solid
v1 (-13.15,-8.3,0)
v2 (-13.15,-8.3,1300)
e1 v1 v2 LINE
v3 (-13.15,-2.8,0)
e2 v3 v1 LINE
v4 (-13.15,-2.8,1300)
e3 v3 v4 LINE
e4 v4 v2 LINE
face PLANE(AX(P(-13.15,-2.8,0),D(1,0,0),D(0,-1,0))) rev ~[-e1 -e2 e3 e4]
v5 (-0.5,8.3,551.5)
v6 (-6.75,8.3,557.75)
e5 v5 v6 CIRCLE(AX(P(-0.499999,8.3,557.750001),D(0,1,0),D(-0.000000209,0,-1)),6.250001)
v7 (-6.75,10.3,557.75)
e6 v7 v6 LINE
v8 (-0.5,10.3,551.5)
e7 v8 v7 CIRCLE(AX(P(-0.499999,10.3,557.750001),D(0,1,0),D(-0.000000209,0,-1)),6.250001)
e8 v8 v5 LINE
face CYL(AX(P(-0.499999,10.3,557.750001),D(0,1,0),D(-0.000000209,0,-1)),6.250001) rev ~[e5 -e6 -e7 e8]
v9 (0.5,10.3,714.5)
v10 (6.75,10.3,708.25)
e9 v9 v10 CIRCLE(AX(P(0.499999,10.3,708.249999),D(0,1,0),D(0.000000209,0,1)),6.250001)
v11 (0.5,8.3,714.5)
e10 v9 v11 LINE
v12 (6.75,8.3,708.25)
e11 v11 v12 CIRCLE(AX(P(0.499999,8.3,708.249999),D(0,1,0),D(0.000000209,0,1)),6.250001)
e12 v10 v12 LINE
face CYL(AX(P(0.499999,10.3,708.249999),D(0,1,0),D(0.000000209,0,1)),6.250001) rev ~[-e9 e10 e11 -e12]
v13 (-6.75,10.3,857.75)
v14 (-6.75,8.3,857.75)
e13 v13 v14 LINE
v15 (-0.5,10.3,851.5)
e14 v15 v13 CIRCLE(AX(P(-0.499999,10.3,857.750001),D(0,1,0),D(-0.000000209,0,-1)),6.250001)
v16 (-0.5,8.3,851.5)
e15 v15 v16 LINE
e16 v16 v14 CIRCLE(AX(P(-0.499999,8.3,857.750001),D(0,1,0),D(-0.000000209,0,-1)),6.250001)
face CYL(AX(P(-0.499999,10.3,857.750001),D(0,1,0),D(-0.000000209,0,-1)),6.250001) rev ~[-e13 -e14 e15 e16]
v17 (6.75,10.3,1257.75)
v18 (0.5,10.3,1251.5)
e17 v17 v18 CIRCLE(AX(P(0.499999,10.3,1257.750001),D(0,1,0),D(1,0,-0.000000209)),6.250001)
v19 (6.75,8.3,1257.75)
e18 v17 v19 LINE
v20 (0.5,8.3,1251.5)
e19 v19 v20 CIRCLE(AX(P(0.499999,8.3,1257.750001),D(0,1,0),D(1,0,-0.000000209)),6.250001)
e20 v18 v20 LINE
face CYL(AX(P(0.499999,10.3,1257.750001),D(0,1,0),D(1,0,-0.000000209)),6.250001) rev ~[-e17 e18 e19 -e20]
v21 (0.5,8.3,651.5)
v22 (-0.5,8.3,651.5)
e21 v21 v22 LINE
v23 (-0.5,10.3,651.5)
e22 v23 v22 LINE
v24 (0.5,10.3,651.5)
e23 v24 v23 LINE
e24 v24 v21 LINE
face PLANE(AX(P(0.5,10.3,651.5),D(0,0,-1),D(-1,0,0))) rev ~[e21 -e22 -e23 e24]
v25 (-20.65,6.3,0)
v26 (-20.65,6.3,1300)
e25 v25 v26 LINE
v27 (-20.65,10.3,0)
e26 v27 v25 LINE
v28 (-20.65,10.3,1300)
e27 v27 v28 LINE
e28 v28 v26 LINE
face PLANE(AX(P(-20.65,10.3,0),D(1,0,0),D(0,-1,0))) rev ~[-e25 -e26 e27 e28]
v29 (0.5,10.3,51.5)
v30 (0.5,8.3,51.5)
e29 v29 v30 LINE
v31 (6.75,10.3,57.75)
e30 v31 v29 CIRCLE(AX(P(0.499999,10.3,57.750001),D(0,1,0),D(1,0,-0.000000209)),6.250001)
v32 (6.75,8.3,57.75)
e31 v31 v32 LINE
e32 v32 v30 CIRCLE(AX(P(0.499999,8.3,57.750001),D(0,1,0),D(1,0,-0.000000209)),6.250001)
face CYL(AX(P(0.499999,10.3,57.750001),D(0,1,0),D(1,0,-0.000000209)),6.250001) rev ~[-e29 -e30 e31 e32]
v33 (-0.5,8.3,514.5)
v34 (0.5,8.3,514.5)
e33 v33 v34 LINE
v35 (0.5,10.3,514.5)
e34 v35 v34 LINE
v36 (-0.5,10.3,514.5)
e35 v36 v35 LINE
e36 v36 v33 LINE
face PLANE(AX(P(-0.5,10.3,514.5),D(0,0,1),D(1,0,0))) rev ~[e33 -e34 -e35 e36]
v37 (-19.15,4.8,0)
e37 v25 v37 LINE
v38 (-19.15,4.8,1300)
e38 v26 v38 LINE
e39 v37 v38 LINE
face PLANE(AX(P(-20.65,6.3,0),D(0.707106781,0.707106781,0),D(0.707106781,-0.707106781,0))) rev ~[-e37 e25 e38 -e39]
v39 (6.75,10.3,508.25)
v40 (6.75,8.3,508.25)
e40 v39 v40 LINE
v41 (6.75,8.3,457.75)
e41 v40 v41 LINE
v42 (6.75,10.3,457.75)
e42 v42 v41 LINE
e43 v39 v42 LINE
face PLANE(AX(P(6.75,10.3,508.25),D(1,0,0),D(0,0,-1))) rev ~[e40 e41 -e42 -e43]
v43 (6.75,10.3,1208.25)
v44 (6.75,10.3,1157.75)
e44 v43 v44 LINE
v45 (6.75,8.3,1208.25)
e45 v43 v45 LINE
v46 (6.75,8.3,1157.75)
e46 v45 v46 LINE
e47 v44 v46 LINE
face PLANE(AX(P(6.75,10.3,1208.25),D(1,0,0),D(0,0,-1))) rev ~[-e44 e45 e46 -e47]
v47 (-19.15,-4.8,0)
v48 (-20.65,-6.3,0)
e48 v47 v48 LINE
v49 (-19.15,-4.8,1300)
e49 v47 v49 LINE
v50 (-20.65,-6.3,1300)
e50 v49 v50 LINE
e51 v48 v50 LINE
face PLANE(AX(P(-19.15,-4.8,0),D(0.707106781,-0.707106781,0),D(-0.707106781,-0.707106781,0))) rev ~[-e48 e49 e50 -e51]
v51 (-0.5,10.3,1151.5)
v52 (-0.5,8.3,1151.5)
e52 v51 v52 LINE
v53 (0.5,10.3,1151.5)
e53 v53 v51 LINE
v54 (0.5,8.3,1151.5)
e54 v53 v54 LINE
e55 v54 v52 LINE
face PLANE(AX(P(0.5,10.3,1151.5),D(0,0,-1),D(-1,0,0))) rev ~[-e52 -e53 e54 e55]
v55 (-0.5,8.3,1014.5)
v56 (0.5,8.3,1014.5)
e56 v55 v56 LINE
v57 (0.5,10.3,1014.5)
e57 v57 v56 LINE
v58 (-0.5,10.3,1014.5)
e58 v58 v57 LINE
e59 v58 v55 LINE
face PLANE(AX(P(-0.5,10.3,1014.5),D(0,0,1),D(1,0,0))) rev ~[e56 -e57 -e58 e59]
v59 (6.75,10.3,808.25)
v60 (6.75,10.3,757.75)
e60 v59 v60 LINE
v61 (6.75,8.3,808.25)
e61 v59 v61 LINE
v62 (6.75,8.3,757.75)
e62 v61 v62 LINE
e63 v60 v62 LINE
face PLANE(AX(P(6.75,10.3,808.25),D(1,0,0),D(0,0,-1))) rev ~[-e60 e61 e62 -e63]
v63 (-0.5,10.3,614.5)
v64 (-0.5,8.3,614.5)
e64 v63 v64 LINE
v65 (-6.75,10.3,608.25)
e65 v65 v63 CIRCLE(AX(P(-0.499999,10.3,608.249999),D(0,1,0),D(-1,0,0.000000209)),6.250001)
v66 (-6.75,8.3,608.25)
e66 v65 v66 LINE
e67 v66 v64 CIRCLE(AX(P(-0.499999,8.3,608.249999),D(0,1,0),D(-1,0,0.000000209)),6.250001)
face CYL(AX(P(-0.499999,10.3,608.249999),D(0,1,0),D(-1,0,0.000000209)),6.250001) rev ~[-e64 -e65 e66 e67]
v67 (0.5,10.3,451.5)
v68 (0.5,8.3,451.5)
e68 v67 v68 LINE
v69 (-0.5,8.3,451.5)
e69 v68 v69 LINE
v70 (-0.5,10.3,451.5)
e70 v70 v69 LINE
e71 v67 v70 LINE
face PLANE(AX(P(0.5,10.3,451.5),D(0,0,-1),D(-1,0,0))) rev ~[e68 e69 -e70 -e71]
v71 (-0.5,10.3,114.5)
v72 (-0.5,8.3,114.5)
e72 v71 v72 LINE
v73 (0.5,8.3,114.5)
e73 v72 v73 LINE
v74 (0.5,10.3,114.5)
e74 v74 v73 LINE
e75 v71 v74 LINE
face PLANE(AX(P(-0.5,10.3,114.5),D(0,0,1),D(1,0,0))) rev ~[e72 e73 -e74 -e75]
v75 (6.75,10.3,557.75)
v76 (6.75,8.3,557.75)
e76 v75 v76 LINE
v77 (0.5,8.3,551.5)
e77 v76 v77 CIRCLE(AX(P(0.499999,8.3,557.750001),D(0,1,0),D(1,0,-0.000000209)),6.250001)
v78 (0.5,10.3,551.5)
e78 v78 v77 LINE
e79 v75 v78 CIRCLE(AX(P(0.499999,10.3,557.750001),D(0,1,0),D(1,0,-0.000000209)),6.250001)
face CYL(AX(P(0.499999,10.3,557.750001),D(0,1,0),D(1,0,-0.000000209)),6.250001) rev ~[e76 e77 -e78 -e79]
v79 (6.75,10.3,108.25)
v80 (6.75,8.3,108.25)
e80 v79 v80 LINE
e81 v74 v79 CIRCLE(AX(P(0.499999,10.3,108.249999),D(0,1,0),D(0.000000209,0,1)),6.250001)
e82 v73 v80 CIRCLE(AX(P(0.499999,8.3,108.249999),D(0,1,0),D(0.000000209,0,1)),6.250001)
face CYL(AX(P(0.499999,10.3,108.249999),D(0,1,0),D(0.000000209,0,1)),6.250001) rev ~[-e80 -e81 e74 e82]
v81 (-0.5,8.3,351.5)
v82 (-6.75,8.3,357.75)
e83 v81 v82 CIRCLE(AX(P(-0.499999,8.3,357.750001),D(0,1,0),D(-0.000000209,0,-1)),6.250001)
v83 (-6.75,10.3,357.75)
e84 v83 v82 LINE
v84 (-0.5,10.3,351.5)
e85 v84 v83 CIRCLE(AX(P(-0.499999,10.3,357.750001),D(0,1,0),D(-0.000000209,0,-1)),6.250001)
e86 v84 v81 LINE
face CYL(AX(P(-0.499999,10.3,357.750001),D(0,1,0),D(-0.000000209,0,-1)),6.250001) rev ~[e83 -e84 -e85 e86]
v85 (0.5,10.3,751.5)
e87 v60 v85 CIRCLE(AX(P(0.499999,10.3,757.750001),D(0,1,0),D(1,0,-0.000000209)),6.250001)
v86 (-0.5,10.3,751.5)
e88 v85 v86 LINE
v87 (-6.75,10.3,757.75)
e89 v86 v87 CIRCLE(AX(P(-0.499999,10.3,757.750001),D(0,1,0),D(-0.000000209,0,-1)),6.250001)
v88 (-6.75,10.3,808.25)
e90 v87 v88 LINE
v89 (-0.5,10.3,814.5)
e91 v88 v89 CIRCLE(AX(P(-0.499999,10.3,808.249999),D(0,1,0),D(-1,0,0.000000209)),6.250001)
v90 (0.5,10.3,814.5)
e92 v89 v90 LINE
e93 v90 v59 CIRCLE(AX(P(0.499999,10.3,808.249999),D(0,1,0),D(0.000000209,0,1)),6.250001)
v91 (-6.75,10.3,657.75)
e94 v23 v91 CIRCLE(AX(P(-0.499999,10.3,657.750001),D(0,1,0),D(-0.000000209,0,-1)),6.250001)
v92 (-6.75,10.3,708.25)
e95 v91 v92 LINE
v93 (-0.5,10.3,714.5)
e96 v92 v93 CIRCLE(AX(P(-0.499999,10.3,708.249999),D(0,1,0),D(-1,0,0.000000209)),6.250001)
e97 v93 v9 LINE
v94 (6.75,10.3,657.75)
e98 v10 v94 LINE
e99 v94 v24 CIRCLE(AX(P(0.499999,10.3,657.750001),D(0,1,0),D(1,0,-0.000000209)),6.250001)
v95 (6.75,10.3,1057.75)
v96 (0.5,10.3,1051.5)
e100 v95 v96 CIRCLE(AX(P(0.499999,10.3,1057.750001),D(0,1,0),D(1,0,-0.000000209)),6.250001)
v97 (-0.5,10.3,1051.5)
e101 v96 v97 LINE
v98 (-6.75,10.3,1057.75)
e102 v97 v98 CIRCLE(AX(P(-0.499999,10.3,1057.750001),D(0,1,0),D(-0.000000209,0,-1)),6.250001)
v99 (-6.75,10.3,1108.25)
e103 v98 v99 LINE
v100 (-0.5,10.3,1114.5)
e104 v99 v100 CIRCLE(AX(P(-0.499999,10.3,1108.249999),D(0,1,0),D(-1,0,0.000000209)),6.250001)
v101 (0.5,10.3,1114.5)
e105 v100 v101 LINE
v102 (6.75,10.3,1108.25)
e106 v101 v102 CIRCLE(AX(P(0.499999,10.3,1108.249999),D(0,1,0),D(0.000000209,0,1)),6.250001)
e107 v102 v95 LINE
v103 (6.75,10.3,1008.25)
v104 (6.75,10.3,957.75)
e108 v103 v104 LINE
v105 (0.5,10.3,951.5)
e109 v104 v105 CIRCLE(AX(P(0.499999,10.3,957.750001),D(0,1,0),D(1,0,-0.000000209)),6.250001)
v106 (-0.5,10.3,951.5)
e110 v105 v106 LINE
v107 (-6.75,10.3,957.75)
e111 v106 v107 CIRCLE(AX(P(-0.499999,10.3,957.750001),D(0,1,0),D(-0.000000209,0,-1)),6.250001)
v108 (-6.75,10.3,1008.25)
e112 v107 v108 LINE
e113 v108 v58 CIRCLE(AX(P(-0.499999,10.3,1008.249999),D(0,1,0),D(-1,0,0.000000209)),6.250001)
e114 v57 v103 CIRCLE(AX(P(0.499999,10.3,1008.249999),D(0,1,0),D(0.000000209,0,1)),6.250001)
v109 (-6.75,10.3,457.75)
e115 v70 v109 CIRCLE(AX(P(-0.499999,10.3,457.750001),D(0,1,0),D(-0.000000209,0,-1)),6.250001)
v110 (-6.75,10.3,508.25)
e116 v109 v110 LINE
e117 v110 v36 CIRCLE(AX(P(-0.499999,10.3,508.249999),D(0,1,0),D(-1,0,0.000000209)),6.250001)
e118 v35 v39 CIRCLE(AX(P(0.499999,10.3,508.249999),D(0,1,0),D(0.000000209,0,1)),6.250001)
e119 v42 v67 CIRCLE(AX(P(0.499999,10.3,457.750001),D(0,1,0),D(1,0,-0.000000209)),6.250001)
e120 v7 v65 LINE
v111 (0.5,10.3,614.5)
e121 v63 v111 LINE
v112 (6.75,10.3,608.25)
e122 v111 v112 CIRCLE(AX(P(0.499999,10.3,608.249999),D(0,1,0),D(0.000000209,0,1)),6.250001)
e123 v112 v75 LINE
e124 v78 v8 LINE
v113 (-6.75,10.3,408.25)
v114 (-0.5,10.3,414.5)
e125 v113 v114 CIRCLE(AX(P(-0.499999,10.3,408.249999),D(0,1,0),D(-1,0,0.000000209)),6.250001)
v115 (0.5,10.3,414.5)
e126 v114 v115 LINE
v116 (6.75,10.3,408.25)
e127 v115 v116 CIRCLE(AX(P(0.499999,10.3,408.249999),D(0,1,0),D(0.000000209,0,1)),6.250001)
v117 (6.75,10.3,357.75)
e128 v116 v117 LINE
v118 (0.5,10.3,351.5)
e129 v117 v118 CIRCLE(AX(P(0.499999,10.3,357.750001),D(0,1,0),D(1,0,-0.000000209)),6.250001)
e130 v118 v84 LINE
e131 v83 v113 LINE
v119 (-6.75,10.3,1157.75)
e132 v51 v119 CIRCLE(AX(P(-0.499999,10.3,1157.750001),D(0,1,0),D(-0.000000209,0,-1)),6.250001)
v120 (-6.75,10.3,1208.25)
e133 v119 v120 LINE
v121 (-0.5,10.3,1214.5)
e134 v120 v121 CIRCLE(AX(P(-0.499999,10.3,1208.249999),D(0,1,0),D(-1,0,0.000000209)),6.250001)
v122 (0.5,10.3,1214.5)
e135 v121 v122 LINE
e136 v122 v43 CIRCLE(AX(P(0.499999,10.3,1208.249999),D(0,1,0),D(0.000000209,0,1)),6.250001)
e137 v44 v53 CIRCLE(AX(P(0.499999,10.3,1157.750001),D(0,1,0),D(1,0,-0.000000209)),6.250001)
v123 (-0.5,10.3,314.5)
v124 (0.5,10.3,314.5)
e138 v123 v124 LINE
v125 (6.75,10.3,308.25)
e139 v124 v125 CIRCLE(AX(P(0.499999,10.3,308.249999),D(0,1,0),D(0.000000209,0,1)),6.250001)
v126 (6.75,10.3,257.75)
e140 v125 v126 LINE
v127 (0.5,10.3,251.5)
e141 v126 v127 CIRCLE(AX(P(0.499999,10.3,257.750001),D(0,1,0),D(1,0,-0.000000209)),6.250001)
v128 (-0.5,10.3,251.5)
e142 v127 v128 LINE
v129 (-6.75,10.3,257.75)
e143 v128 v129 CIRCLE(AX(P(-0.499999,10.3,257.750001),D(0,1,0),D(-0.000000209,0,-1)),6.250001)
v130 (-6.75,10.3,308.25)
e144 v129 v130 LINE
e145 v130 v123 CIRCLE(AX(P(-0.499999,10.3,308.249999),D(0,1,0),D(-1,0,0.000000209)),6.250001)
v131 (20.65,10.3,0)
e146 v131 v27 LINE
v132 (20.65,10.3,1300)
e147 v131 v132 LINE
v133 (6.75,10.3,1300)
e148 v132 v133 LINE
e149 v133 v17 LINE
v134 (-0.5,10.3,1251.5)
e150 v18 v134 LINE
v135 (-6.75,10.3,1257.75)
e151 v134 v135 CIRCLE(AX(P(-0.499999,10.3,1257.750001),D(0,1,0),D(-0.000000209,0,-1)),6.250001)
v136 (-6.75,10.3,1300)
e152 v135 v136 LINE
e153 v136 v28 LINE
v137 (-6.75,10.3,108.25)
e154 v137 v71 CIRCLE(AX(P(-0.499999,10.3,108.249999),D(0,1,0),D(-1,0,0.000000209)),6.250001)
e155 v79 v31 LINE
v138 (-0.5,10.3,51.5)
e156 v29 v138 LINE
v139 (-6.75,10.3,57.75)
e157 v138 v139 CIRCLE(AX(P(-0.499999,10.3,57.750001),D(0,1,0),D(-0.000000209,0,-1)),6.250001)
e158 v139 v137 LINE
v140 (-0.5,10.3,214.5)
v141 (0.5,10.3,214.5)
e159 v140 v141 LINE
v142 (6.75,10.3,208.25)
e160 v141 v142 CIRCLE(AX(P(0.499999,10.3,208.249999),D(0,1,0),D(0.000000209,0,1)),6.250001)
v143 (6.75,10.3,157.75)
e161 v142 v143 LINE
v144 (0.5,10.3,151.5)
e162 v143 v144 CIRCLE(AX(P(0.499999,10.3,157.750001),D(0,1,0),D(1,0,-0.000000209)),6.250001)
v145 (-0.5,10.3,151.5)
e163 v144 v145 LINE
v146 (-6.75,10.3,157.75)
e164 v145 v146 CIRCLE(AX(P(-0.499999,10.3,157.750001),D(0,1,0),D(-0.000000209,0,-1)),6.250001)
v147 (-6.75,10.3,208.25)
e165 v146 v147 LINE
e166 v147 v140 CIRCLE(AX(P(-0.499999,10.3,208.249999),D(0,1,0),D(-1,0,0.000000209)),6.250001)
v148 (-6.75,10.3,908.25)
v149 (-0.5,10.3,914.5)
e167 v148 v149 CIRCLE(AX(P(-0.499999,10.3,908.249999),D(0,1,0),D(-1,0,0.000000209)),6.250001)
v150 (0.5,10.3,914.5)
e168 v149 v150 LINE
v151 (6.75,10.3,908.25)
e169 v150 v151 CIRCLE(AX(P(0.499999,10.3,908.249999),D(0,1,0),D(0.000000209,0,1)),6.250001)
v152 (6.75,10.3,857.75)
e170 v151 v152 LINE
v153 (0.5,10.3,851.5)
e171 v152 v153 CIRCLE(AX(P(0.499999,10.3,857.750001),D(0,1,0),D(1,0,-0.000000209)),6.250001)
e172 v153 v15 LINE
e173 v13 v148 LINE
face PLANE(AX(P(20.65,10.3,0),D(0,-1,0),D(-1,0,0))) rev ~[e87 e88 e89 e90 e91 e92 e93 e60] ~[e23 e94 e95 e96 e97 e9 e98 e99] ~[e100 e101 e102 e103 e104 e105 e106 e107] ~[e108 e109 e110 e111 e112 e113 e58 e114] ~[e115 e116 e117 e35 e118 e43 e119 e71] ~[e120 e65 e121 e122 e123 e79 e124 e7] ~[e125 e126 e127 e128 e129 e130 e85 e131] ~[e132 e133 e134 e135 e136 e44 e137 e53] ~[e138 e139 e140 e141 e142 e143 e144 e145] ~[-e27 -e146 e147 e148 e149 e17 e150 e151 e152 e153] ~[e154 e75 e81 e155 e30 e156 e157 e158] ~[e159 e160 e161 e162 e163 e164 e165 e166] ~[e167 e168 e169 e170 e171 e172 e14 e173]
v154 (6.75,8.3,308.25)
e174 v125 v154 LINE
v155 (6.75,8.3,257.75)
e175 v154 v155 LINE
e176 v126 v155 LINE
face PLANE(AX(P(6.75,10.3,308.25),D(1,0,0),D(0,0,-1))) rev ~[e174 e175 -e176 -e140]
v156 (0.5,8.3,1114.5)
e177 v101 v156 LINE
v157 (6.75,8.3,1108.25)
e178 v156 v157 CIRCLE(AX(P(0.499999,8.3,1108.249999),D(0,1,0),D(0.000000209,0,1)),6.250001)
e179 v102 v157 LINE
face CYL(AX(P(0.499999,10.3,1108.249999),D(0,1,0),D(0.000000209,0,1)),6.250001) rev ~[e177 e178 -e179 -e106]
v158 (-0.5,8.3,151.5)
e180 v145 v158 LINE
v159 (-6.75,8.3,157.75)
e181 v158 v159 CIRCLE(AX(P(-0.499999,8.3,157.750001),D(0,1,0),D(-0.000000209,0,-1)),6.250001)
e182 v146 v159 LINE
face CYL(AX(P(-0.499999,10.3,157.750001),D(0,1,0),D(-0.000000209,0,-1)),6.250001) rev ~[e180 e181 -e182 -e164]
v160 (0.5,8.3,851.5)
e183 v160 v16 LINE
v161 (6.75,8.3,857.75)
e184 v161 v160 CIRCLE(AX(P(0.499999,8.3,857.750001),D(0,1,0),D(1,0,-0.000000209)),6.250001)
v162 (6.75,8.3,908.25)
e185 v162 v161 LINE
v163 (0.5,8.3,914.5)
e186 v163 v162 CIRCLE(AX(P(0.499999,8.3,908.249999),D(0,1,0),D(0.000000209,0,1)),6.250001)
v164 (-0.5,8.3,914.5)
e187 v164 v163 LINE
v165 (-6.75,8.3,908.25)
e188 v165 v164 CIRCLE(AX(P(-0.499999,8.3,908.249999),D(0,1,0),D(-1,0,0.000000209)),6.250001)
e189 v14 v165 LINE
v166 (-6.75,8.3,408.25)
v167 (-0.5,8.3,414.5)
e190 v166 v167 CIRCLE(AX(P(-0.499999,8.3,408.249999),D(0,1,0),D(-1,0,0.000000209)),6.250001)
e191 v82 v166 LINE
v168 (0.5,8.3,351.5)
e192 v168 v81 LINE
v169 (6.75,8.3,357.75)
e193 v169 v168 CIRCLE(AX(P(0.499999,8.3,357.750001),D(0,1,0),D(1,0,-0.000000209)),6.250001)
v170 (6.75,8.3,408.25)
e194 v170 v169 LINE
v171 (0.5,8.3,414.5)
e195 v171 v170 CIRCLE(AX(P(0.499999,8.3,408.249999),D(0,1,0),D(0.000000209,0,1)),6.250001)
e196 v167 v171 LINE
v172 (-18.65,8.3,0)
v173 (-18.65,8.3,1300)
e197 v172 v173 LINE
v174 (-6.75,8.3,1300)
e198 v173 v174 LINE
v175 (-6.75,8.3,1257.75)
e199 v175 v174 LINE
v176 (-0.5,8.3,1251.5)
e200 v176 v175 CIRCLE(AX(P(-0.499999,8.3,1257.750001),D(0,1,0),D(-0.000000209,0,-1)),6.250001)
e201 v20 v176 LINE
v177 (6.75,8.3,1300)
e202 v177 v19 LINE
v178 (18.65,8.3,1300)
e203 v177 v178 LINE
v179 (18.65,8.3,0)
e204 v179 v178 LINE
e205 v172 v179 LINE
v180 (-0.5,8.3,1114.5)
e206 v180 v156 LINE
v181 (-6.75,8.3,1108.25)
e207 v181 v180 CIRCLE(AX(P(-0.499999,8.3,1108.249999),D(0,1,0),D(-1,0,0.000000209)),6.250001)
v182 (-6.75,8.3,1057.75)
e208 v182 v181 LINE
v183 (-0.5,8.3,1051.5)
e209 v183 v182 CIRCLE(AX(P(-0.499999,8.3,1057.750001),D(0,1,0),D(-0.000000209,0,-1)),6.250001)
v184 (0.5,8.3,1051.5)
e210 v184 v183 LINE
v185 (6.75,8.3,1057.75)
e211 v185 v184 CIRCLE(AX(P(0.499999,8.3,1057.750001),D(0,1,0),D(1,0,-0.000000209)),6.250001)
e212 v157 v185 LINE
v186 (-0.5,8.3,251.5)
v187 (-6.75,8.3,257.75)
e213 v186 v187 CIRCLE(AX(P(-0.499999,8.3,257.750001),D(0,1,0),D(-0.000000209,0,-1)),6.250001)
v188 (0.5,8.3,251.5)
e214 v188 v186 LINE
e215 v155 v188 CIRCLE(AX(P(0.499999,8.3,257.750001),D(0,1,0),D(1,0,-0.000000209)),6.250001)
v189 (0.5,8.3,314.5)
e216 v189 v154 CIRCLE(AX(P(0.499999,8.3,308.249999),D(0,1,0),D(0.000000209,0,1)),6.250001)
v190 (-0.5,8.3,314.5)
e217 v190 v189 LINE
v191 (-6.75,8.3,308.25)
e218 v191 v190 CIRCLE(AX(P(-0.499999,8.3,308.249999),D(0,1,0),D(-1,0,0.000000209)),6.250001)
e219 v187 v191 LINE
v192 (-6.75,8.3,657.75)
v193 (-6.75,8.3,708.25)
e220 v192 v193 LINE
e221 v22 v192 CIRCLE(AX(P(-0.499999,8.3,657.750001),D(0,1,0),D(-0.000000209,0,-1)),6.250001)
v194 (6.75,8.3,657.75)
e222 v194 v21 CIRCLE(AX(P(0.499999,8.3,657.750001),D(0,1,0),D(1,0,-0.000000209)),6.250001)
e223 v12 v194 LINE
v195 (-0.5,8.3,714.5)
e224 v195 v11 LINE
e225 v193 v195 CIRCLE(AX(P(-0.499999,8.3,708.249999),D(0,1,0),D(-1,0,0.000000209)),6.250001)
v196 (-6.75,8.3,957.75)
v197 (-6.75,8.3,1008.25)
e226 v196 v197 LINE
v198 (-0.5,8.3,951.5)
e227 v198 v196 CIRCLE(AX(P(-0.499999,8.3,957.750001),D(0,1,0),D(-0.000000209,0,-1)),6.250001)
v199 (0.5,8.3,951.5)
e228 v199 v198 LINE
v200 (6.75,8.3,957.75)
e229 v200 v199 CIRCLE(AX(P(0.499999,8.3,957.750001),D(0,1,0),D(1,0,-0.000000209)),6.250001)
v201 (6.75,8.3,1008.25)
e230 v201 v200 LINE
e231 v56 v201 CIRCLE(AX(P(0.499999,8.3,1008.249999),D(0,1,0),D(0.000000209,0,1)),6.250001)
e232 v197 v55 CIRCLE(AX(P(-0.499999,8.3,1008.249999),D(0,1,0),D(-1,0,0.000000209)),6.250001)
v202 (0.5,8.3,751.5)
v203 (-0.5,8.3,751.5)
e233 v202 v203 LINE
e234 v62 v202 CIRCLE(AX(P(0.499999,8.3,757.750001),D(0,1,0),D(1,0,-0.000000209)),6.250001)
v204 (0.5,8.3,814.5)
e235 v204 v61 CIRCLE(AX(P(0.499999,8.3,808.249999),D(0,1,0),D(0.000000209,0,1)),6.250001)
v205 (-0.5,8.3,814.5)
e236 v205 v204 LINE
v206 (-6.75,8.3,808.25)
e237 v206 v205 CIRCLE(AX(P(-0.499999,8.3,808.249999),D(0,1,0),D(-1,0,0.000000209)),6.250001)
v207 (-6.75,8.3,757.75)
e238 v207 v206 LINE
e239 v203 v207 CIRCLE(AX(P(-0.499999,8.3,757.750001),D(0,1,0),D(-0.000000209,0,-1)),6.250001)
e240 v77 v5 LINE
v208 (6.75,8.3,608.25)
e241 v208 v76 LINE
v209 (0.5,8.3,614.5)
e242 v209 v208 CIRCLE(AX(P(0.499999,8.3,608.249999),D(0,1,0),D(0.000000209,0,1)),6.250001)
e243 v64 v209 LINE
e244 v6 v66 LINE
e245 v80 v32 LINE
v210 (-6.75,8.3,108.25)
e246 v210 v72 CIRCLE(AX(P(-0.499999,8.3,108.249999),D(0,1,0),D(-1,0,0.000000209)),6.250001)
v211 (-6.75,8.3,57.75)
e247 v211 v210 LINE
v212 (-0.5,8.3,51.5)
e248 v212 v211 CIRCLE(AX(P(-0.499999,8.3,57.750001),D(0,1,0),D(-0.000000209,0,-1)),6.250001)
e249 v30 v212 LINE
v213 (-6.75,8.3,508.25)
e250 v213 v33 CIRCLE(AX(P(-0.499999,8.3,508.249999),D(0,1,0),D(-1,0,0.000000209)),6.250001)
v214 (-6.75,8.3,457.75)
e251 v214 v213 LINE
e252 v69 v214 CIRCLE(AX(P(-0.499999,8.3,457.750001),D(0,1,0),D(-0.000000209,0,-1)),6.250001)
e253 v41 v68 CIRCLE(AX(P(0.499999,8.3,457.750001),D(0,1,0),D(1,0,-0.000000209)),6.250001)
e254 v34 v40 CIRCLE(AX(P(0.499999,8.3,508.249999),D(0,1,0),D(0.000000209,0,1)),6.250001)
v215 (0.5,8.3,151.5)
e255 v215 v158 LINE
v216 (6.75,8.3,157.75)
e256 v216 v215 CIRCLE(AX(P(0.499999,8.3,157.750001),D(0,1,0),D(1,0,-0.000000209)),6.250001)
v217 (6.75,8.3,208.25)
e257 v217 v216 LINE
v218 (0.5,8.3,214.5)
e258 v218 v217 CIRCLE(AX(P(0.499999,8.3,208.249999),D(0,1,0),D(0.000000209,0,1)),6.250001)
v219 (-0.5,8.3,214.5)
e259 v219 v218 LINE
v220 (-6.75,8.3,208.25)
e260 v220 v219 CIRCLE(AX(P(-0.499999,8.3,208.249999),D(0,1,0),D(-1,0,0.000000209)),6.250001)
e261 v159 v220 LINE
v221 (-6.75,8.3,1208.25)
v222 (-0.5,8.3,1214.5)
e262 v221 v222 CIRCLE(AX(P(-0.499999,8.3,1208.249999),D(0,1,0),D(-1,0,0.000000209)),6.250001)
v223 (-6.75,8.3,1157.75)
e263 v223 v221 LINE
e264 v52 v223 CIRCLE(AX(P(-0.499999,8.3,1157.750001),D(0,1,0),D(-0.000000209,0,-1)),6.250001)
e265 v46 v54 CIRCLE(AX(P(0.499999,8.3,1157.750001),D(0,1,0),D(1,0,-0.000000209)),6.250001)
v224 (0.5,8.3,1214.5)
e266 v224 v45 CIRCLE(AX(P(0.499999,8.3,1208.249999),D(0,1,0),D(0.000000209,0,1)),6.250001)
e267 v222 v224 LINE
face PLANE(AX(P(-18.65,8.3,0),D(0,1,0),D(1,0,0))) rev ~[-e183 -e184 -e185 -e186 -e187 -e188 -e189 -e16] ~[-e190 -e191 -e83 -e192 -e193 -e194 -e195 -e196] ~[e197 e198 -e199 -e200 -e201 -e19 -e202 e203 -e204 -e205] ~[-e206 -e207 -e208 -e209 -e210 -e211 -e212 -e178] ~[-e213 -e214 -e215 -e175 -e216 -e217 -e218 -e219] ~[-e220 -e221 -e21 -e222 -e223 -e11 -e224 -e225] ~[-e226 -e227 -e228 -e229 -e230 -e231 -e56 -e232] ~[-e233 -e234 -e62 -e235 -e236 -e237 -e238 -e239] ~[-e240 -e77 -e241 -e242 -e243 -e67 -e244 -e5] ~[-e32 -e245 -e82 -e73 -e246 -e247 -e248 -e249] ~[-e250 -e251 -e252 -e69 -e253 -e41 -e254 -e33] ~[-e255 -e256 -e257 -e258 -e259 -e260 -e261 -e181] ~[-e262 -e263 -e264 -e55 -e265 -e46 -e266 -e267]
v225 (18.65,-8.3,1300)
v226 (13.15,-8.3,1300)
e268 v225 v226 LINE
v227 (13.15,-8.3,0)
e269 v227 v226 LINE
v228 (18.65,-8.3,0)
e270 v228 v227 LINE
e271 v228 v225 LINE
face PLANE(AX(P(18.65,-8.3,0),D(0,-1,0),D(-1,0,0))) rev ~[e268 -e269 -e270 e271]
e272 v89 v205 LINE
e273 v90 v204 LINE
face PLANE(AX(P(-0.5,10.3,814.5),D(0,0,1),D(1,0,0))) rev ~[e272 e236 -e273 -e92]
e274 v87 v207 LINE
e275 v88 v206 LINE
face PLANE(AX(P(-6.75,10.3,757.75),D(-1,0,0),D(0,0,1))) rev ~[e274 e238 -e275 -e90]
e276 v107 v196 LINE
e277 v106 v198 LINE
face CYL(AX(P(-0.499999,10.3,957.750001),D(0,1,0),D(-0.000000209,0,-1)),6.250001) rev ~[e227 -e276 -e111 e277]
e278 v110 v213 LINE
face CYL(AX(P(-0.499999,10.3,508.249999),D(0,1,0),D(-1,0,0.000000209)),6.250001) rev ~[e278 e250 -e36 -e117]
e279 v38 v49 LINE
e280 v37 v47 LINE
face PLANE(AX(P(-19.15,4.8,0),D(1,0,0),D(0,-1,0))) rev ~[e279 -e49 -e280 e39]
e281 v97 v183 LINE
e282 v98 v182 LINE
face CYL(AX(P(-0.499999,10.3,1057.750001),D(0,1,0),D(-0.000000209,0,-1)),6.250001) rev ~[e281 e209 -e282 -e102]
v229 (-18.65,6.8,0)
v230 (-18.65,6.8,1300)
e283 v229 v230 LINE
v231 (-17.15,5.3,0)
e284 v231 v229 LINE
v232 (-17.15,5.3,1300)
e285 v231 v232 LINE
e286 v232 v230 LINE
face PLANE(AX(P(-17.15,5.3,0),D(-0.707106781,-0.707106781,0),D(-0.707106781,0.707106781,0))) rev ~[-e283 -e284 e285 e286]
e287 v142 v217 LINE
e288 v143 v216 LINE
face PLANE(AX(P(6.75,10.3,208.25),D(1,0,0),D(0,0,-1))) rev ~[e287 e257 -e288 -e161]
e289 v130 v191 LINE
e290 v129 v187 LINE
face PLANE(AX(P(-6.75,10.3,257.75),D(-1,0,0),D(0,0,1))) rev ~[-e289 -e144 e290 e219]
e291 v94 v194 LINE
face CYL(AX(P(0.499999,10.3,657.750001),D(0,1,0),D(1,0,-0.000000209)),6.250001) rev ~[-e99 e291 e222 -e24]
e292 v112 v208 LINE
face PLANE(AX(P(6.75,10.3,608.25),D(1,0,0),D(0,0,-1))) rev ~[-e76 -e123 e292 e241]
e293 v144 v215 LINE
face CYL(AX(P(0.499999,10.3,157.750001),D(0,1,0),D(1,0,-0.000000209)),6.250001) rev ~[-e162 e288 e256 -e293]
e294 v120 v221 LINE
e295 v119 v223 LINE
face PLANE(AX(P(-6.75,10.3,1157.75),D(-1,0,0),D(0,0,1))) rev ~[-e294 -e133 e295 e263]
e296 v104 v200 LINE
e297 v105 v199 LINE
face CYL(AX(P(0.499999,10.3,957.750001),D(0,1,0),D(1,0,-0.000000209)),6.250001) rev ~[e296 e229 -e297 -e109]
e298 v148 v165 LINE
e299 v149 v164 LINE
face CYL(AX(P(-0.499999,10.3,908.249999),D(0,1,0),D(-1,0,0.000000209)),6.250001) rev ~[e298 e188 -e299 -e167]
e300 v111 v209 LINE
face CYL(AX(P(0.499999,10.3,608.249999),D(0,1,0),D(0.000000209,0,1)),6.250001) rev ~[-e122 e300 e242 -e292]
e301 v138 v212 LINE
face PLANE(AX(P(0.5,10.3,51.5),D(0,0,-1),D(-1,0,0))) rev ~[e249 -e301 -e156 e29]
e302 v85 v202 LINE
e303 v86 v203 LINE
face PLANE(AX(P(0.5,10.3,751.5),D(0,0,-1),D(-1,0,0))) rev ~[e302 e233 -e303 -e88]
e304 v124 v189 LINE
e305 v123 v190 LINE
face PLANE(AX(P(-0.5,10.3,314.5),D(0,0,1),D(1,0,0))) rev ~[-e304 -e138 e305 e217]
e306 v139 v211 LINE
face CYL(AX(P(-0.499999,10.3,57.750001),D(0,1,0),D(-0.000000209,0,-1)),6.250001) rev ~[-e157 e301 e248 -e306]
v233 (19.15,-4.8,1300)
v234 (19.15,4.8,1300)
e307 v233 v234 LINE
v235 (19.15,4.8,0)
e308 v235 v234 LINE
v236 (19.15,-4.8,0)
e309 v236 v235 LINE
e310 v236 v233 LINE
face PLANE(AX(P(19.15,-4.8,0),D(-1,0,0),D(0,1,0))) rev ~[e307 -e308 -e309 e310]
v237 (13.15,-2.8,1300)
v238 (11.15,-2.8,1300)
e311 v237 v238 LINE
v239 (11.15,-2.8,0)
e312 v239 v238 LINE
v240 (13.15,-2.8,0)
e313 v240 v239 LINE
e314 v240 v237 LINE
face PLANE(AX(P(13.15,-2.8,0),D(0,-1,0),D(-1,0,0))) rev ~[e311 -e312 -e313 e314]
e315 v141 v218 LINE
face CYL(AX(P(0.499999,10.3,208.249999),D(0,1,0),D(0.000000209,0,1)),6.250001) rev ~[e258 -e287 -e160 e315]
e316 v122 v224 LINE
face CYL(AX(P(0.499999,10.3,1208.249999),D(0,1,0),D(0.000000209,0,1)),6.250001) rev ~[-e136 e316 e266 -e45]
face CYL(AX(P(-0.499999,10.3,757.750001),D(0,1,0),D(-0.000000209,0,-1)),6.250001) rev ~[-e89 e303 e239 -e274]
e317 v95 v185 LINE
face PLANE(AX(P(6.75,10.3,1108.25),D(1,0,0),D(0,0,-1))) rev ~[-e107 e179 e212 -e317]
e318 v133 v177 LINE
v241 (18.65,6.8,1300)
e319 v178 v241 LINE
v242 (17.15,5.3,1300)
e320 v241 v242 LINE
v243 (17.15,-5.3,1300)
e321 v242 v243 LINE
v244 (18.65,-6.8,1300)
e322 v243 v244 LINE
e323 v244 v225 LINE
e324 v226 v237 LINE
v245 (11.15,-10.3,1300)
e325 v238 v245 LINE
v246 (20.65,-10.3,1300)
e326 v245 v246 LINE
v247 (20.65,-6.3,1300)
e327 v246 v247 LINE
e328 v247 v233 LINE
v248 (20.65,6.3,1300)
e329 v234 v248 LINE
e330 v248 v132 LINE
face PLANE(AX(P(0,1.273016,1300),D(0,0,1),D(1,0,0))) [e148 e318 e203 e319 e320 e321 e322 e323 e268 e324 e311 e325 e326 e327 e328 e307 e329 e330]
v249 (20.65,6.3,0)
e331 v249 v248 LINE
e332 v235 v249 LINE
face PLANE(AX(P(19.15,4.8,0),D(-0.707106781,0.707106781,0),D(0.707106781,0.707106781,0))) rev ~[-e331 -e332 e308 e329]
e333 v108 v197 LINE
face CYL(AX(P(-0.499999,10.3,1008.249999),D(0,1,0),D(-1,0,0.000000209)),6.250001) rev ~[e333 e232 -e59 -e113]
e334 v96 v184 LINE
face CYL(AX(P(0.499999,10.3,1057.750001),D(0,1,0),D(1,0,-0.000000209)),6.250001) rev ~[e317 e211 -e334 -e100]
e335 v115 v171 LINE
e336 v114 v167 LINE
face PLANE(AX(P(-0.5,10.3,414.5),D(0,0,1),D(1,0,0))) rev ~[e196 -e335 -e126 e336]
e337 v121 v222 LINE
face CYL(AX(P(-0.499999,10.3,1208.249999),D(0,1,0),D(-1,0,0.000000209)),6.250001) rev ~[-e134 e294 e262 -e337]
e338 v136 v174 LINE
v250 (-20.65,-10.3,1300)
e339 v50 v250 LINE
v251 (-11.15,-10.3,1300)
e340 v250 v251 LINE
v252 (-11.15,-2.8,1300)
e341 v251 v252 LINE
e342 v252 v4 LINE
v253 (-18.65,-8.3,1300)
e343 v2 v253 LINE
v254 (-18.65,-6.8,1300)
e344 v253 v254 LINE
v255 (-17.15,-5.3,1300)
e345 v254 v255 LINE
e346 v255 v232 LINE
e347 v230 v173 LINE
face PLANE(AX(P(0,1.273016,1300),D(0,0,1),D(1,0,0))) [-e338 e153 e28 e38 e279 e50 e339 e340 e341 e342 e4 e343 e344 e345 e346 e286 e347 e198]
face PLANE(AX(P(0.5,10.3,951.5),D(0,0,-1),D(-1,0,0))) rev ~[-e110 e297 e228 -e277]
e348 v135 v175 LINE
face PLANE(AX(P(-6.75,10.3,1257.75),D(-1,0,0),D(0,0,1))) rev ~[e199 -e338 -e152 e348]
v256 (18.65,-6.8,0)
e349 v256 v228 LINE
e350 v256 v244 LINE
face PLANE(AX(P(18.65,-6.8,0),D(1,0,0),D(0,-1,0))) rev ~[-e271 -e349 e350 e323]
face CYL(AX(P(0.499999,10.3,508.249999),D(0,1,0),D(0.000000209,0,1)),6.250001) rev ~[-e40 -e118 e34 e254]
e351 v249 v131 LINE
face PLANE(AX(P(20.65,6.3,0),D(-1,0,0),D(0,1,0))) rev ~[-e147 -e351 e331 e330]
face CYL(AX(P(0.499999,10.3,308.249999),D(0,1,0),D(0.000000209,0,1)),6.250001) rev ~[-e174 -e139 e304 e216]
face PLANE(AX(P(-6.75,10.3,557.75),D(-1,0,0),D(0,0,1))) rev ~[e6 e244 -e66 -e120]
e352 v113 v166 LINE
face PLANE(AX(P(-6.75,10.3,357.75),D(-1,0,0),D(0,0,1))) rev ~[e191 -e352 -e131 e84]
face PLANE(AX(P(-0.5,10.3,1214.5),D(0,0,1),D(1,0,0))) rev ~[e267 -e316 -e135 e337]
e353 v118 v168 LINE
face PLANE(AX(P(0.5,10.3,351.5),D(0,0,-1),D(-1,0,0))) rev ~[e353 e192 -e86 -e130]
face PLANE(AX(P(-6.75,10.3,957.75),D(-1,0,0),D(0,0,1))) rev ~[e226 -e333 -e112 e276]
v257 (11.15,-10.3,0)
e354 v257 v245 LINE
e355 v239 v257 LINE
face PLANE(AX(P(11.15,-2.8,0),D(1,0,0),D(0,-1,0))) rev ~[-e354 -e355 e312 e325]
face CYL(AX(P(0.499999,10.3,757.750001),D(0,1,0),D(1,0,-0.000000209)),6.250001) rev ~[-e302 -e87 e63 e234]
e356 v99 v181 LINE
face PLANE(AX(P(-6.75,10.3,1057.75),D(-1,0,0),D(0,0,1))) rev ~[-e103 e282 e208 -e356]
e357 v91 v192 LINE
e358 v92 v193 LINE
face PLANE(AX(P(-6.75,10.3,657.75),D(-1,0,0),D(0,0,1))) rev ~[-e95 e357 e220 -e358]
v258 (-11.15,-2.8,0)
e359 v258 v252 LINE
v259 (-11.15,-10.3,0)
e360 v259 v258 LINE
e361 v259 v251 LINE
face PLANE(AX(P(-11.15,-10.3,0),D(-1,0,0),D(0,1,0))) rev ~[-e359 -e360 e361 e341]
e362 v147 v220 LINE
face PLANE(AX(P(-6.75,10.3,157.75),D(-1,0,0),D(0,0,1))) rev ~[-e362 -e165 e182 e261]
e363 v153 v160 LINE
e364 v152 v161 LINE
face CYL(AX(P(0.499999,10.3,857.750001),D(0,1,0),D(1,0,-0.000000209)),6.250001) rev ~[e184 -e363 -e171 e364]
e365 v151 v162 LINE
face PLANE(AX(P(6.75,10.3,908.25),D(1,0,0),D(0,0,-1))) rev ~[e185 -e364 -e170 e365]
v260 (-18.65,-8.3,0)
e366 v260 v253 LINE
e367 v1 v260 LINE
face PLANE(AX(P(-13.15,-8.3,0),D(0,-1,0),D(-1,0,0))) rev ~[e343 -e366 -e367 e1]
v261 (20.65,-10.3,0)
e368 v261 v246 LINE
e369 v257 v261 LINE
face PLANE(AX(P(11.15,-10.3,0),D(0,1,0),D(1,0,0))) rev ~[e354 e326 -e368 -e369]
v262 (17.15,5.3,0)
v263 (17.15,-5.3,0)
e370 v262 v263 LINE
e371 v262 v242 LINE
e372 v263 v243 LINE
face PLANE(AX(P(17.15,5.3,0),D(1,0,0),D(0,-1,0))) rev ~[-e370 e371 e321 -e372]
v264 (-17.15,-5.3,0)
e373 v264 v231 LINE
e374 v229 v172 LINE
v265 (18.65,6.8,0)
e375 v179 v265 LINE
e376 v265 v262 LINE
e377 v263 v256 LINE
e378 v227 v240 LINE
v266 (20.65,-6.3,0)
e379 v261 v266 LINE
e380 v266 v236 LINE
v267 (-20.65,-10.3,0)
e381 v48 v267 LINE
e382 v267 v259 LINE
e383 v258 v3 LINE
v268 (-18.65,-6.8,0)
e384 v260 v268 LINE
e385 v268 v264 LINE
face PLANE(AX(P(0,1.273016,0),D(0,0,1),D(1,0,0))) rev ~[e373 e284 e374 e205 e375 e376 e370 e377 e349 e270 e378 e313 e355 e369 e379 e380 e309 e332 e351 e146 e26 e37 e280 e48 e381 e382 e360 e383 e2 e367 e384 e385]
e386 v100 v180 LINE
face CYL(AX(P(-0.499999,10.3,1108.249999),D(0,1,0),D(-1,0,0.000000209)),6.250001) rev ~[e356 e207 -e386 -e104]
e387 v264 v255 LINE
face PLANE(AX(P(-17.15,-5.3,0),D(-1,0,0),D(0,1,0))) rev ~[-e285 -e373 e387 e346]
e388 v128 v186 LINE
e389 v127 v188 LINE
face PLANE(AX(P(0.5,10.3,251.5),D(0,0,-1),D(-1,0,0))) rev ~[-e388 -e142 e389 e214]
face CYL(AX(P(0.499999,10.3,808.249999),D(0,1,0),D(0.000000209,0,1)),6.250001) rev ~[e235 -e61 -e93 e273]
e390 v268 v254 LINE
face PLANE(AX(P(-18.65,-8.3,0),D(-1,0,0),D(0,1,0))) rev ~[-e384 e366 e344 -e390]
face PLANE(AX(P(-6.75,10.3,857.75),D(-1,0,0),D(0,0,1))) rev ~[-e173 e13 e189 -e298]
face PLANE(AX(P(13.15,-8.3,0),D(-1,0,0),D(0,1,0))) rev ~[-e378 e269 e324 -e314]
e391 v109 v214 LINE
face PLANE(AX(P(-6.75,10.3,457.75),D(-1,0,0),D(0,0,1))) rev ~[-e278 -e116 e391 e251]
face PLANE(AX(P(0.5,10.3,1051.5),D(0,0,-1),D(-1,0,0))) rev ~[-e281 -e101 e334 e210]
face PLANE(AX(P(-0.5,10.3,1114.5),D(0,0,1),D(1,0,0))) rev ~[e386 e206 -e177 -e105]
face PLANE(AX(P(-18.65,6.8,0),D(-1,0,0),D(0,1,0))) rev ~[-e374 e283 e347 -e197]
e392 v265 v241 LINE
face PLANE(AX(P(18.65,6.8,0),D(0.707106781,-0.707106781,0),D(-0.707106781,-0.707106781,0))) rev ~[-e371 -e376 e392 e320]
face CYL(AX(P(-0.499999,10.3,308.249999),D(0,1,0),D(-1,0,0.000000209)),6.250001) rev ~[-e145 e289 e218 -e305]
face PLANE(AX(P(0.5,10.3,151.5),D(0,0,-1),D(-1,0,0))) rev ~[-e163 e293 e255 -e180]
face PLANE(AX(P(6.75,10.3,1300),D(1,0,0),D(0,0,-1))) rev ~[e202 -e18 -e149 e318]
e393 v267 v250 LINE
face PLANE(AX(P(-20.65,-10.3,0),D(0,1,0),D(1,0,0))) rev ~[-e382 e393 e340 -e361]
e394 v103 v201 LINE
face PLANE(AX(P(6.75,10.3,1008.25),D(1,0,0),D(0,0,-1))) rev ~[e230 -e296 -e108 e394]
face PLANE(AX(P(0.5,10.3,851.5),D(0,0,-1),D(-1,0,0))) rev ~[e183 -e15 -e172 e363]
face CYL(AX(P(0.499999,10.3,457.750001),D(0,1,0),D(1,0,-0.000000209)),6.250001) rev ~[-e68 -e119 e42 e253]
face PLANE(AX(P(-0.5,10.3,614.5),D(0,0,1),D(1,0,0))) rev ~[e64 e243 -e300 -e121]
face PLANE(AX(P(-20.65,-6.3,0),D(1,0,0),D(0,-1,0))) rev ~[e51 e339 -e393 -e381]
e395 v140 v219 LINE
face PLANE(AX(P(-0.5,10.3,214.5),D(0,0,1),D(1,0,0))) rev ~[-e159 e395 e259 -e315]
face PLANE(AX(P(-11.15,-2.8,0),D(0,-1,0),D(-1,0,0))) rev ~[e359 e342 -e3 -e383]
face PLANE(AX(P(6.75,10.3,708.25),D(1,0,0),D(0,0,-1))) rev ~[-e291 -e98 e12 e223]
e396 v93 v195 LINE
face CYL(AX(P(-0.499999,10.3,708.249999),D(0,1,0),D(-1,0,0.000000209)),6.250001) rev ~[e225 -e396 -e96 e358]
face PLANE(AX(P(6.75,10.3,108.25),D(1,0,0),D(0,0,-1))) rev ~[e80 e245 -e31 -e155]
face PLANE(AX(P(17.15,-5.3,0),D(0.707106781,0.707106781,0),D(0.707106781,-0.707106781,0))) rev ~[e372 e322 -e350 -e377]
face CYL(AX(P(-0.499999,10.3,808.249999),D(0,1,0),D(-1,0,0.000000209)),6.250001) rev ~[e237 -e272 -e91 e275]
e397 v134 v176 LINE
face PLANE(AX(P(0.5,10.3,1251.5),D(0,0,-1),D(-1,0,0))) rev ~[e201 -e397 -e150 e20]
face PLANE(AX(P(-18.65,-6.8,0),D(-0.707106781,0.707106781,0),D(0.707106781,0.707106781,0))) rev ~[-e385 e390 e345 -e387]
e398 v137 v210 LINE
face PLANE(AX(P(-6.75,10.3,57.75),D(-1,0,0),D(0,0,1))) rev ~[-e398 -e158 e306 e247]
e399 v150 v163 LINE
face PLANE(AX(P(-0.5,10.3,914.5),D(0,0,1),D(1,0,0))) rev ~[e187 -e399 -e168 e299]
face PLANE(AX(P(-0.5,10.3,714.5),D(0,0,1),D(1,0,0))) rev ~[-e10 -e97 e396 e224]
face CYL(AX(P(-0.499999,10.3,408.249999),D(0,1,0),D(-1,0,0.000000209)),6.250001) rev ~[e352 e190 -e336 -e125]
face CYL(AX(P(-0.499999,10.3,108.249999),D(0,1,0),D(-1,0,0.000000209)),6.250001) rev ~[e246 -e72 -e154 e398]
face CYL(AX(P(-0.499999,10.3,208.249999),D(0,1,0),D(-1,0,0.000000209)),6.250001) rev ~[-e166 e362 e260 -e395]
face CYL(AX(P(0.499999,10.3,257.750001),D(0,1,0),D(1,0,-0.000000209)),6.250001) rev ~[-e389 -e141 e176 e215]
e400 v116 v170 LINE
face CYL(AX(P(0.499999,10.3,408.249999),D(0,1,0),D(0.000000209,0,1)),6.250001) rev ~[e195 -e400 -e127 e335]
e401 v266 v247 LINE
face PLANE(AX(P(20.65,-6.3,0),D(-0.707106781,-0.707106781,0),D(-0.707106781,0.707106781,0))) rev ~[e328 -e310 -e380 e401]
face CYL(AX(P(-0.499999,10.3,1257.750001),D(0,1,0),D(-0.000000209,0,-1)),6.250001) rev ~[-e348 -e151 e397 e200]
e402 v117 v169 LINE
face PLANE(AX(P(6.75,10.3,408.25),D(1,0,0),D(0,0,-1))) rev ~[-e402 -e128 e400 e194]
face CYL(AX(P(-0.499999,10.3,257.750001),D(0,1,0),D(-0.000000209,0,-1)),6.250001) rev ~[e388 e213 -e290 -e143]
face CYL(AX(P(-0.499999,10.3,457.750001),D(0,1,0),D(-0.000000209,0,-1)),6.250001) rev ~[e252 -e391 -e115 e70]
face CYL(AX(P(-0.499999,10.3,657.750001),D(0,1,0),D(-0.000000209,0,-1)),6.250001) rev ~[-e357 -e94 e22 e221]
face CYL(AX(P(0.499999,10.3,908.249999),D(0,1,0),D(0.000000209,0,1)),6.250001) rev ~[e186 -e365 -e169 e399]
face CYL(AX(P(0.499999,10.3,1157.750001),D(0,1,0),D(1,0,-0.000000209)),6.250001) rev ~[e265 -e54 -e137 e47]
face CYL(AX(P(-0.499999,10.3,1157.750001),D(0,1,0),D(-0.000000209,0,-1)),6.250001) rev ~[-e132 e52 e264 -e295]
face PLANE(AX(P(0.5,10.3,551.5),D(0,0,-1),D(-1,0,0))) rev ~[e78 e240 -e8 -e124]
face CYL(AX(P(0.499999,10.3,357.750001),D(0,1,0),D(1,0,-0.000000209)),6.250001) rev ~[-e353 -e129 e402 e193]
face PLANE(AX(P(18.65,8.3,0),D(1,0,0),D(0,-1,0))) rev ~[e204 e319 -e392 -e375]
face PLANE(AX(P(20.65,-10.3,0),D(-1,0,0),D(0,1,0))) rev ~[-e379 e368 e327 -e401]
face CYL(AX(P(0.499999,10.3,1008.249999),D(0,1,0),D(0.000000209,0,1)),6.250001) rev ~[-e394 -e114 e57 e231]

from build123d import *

# Parameters (mm, degrees)
F1_DEPTH = 1300
F3_DEPTH = 25


with BuildPart() as f1:
    # F0 (on Top) → F1 (new body)
    with BuildSketch(Plane.XY):
        Polygon((20.65, 10.3), (0, 10.3), (-20.65, 10.3), (-20.65, 6.3), (-19.15, 4.8), (-19.15, -4.8), (-20.65, -6.3), (-20.65, -10.3), (-11.15, -10.3), (-11.15, -2.8), (-13.15, -2.8), (-13.15, -8.3), (-18.65, -8.3), (-18.65, -6.8), (-17.15, -5.3), (-17.15, 5.3), (-18.65, 6.8), (-18.65, 8.3), (0, 8.3), (18.65, 8.3), (18.65, 6.8), (17.15, 5.3), (17.15, -5.3), (18.65, -6.8), (18.65, -8.3), (13.15, -8.3), (13.15, -2.8), (11.15, -2.8), (11.15, -10.3), (20.65, -10.3), (20.65, -6.3), (19.15, -4.8), (19.15, 4.8), (20.65, 6.3), align=None)
    extrude(amount=F1_DEPTH)

    # F2 (on face) → F3 (cut)
    with BuildSketch(Plane(origin=(0, 10.3, 0), x_dir=(-1, 0, 0), z_dir=(0, 1, 0))):
        with BuildLine():
            Line((-0.5, 51.5), (0.5, 51.5))
            ThreePointArc((0.5, 51.5), (4.919417, 53.330583), (6.75, 57.75))
            Line((6.75, 57.75), (6.75, 108.25))
            ThreePointArc((6.75, 108.25), (4.919417, 112.669417), (0.5, 114.5))
            Line((0.5, 114.5), (-0.5, 114.5))
            ThreePointArc((-0.5, 114.5), (-4.919417, 112.669417), (-6.75, 108.25))
            Line((-6.75, 108.25), (-6.75, 57.75))
            ThreePointArc((-6.75, 57.75), (-4.919417, 53.330583), (-0.5, 51.5))
        make_face()
        with BuildLine():
            Line((-6.75, 208.25), (-6.75, 157.75))
            ThreePointArc((-6.75, 157.75), (-4.919417, 153.330583), (-0.5, 151.5))
            Line((-0.5, 151.5), (0.5, 151.5))
            ThreePointArc((0.5, 151.5), (4.919417, 153.330583), (6.75, 157.75))
            Line((6.75, 157.75), (6.75, 208.25))
            ThreePointArc((6.75, 208.25), (4.919417, 212.669417), (0.5, 214.5))
            Line((0.5, 214.5), (-0.5, 214.5))
            ThreePointArc((-0.5, 214.5), (-4.919417, 212.669417), (-6.75, 208.25))
        make_face()
        with BuildLine():
            Line((-6.75, 308.25), (-6.75, 257.75))
            ThreePointArc((-6.75, 257.75), (-4.919417, 253.330583), (-0.5, 251.5))
            Line((-0.5, 251.5), (0.5, 251.5))
            ThreePointArc((0.5, 251.5), (4.919417, 253.330583), (6.75, 257.75))
            Line((6.75, 257.75), (6.75, 308.25))
            ThreePointArc((6.75, 308.25), (4.919417, 312.669417), (0.5, 314.5))
            Line((0.5, 314.5), (-0.5, 314.5))
            ThreePointArc((-0.5, 314.5), (-4.919417, 312.669417), (-6.75, 308.25))
        make_face()
        with BuildLine():
            Line((-6.75, 408.25), (-6.75, 357.75))
            ThreePointArc((-6.75, 357.75), (-4.919417, 353.330583), (-0.5, 351.5))
            Line((-0.5, 351.5), (0.5, 351.5))
            ThreePointArc((0.5, 351.5), (4.919417, 353.330583), (6.75, 357.75))
            Line((6.75, 357.75), (6.75, 408.25))
            ThreePointArc((6.75, 408.25), (4.919417, 412.669417), (0.5, 414.5))
            Line((0.5, 414.5), (-0.5, 414.5))
            ThreePointArc((-0.5, 414.5), (-4.919417, 412.669417), (-6.75, 408.25))
        make_face()
        with BuildLine():
            Line((-6.75, 508.25), (-6.75, 457.75))
            ThreePointArc((-6.75, 457.75), (-4.919417, 453.330583), (-0.5, 451.5))
            Line((-0.5, 451.5), (0.5, 451.5))
            ThreePointArc((0.5, 451.5), (4.919417, 453.330583), (6.75, 457.75))
            Line((6.75, 457.75), (6.75, 508.25))
            ThreePointArc((6.75, 508.25), (4.919417, 512.669417), (0.5, 514.5))
            Line((0.5, 514.5), (-0.5, 514.5))
            ThreePointArc((-0.5, 514.5), (-4.919417, 512.669417), (-6.75, 508.25))
        make_face()
        with BuildLine():
            Line((-6.75, 608.25), (-6.75, 557.75))
            ThreePointArc((-6.75, 557.75), (-4.919417, 553.330583), (-0.5, 551.5))
            Line((-0.5, 551.5), (0.5, 551.5))
            ThreePointArc((0.5, 551.5), (4.919417, 553.330583), (6.75, 557.75))
            Line((6.75, 557.75), (6.75, 608.25))
            ThreePointArc((6.75, 608.25), (4.919417, 612.669417), (0.5, 614.5))
            Line((0.5, 614.5), (-0.5, 614.5))
            ThreePointArc((-0.5, 614.5), (-4.919417, 612.669417), (-6.75, 608.25))
        make_face()
        with BuildLine():
            Line((-6.75, 708.25), (-6.75, 657.75))
            ThreePointArc((-6.75, 657.75), (-4.919417, 653.330583), (-0.5, 651.5))
            Line((-0.5, 651.5), (0.5, 651.5))
            ThreePointArc((0.5, 651.5), (4.919417, 653.330583), (6.75, 657.75))
            Line((6.75, 657.75), (6.75, 708.25))
            ThreePointArc((6.75, 708.25), (4.919417, 712.669417), (0.5, 714.5))
            Line((0.5, 714.5), (-0.5, 714.5))
            ThreePointArc((-0.5, 714.5), (-4.919417, 712.669417), (-6.75, 708.25))
        make_face()
        with BuildLine():
            Line((-6.75, 808.25), (-6.75, 757.75))
            ThreePointArc((-6.75, 757.75), (-4.919417, 753.330583), (-0.5, 751.5))
            Line((-0.5, 751.5), (0.5, 751.5))
            ThreePointArc((0.5, 751.5), (4.919417, 753.330583), (6.75, 757.75))
            Line((6.75, 757.75), (6.75, 808.25))
            ThreePointArc((6.75, 808.25), (4.919417, 812.669417), (0.5, 814.5))
            Line((0.5, 814.5), (-0.5, 814.5))
            ThreePointArc((-0.5, 814.5), (-4.919417, 812.669417), (-6.75, 808.25))
        make_face()
        with BuildLine():
            Line((-6.75, 908.25), (-6.75, 857.75))
            ThreePointArc((-6.75, 857.75), (-4.919417, 853.330583), (-0.5, 851.5))
            Line((-0.5, 851.5), (0.5, 851.5))
            ThreePointArc((0.5, 851.5), (4.919417, 853.330583), (6.75, 857.75))
            Line((6.75, 857.75), (6.75, 908.25))
            ThreePointArc((6.75, 908.25), (4.919417, 912.669417), (0.5, 914.5))
            Line((0.5, 914.5), (-0.5, 914.5))
            ThreePointArc((-0.5, 914.5), (-4.919417, 912.669417), (-6.75, 908.25))
        make_face()
        with BuildLine():
            Line((-6.75, 1008.25), (-6.75, 957.75))
            ThreePointArc((-6.75, 957.75), (-4.919417, 953.330583), (-0.5, 951.5))
            Line((-0.5, 951.5), (0.5, 951.5))
            ThreePointArc((0.5, 951.5), (4.919417, 953.330583), (6.75, 957.75))
            Line((6.75, 957.75), (6.75, 1008.25))
            ThreePointArc((6.75, 1008.25), (4.919417, 1012.669417), (0.5, 1014.5))
            Line((0.5, 1014.5), (-0.5, 1014.5))
            ThreePointArc((-0.5, 1014.5), (-4.919417, 1012.669417), (-6.75, 1008.25))
        make_face()
        with BuildLine():
            Line((-6.75, 1108.25), (-6.75, 1057.75))
            ThreePointArc((-6.75, 1057.75), (-4.919417, 1053.330583), (-0.5, 1051.5))
            Line((-0.5, 1051.5), (0.5, 1051.5))
            ThreePointArc((0.5, 1051.5), (4.919417, 1053.330583), (6.75, 1057.75))
            Line((6.75, 1057.75), (6.75, 1108.25))
            ThreePointArc((6.75, 1108.25), (4.919417, 1112.669417), (0.5, 1114.5))
            Line((0.5, 1114.5), (-0.5, 1114.5))
            ThreePointArc((-0.5, 1114.5), (-4.919417, 1112.669417), (-6.75, 1108.25))
        make_face()
        with BuildLine():
            Line((-6.75, 1208.25), (-6.75, 1157.75))
            ThreePointArc((-6.75, 1157.75), (-4.919417, 1153.330583), (-0.5, 1151.5))
            Line((-0.5, 1151.5), (0.5, 1151.5))
            ThreePointArc((0.5, 1151.5), (4.919417, 1153.330583), (6.75, 1157.75))
            Line((6.75, 1157.75), (6.75, 1208.25))
            ThreePointArc((6.75, 1208.25), (4.919417, 1212.669417), (0.5, 1214.5))
            Line((0.5, 1214.5), (-0.5, 1214.5))
            ThreePointArc((-0.5, 1214.5), (-4.919417, 1212.669417), (-6.75, 1208.25))
        make_face()
        with BuildLine():
            Line((-6.75, 1300), (-6.75, 1257.75))
            ThreePointArc((-6.75, 1257.75), (-4.919417, 1253.330583), (-0.5, 1251.5))
            Line((-0.5, 1251.5), (0.5, 1251.5))
            ThreePointArc((0.5, 1251.5), (4.919417, 1253.330583), (6.75, 1257.75))
            Line((6.75, 1257.75), (6.75, 1300))
            Line((6.75, 1300), (-6.75, 1300))
        make_face()
    extrude(amount=-F3_DEPTH, mode=Mode.SUBTRACT)


solid = f1.part
